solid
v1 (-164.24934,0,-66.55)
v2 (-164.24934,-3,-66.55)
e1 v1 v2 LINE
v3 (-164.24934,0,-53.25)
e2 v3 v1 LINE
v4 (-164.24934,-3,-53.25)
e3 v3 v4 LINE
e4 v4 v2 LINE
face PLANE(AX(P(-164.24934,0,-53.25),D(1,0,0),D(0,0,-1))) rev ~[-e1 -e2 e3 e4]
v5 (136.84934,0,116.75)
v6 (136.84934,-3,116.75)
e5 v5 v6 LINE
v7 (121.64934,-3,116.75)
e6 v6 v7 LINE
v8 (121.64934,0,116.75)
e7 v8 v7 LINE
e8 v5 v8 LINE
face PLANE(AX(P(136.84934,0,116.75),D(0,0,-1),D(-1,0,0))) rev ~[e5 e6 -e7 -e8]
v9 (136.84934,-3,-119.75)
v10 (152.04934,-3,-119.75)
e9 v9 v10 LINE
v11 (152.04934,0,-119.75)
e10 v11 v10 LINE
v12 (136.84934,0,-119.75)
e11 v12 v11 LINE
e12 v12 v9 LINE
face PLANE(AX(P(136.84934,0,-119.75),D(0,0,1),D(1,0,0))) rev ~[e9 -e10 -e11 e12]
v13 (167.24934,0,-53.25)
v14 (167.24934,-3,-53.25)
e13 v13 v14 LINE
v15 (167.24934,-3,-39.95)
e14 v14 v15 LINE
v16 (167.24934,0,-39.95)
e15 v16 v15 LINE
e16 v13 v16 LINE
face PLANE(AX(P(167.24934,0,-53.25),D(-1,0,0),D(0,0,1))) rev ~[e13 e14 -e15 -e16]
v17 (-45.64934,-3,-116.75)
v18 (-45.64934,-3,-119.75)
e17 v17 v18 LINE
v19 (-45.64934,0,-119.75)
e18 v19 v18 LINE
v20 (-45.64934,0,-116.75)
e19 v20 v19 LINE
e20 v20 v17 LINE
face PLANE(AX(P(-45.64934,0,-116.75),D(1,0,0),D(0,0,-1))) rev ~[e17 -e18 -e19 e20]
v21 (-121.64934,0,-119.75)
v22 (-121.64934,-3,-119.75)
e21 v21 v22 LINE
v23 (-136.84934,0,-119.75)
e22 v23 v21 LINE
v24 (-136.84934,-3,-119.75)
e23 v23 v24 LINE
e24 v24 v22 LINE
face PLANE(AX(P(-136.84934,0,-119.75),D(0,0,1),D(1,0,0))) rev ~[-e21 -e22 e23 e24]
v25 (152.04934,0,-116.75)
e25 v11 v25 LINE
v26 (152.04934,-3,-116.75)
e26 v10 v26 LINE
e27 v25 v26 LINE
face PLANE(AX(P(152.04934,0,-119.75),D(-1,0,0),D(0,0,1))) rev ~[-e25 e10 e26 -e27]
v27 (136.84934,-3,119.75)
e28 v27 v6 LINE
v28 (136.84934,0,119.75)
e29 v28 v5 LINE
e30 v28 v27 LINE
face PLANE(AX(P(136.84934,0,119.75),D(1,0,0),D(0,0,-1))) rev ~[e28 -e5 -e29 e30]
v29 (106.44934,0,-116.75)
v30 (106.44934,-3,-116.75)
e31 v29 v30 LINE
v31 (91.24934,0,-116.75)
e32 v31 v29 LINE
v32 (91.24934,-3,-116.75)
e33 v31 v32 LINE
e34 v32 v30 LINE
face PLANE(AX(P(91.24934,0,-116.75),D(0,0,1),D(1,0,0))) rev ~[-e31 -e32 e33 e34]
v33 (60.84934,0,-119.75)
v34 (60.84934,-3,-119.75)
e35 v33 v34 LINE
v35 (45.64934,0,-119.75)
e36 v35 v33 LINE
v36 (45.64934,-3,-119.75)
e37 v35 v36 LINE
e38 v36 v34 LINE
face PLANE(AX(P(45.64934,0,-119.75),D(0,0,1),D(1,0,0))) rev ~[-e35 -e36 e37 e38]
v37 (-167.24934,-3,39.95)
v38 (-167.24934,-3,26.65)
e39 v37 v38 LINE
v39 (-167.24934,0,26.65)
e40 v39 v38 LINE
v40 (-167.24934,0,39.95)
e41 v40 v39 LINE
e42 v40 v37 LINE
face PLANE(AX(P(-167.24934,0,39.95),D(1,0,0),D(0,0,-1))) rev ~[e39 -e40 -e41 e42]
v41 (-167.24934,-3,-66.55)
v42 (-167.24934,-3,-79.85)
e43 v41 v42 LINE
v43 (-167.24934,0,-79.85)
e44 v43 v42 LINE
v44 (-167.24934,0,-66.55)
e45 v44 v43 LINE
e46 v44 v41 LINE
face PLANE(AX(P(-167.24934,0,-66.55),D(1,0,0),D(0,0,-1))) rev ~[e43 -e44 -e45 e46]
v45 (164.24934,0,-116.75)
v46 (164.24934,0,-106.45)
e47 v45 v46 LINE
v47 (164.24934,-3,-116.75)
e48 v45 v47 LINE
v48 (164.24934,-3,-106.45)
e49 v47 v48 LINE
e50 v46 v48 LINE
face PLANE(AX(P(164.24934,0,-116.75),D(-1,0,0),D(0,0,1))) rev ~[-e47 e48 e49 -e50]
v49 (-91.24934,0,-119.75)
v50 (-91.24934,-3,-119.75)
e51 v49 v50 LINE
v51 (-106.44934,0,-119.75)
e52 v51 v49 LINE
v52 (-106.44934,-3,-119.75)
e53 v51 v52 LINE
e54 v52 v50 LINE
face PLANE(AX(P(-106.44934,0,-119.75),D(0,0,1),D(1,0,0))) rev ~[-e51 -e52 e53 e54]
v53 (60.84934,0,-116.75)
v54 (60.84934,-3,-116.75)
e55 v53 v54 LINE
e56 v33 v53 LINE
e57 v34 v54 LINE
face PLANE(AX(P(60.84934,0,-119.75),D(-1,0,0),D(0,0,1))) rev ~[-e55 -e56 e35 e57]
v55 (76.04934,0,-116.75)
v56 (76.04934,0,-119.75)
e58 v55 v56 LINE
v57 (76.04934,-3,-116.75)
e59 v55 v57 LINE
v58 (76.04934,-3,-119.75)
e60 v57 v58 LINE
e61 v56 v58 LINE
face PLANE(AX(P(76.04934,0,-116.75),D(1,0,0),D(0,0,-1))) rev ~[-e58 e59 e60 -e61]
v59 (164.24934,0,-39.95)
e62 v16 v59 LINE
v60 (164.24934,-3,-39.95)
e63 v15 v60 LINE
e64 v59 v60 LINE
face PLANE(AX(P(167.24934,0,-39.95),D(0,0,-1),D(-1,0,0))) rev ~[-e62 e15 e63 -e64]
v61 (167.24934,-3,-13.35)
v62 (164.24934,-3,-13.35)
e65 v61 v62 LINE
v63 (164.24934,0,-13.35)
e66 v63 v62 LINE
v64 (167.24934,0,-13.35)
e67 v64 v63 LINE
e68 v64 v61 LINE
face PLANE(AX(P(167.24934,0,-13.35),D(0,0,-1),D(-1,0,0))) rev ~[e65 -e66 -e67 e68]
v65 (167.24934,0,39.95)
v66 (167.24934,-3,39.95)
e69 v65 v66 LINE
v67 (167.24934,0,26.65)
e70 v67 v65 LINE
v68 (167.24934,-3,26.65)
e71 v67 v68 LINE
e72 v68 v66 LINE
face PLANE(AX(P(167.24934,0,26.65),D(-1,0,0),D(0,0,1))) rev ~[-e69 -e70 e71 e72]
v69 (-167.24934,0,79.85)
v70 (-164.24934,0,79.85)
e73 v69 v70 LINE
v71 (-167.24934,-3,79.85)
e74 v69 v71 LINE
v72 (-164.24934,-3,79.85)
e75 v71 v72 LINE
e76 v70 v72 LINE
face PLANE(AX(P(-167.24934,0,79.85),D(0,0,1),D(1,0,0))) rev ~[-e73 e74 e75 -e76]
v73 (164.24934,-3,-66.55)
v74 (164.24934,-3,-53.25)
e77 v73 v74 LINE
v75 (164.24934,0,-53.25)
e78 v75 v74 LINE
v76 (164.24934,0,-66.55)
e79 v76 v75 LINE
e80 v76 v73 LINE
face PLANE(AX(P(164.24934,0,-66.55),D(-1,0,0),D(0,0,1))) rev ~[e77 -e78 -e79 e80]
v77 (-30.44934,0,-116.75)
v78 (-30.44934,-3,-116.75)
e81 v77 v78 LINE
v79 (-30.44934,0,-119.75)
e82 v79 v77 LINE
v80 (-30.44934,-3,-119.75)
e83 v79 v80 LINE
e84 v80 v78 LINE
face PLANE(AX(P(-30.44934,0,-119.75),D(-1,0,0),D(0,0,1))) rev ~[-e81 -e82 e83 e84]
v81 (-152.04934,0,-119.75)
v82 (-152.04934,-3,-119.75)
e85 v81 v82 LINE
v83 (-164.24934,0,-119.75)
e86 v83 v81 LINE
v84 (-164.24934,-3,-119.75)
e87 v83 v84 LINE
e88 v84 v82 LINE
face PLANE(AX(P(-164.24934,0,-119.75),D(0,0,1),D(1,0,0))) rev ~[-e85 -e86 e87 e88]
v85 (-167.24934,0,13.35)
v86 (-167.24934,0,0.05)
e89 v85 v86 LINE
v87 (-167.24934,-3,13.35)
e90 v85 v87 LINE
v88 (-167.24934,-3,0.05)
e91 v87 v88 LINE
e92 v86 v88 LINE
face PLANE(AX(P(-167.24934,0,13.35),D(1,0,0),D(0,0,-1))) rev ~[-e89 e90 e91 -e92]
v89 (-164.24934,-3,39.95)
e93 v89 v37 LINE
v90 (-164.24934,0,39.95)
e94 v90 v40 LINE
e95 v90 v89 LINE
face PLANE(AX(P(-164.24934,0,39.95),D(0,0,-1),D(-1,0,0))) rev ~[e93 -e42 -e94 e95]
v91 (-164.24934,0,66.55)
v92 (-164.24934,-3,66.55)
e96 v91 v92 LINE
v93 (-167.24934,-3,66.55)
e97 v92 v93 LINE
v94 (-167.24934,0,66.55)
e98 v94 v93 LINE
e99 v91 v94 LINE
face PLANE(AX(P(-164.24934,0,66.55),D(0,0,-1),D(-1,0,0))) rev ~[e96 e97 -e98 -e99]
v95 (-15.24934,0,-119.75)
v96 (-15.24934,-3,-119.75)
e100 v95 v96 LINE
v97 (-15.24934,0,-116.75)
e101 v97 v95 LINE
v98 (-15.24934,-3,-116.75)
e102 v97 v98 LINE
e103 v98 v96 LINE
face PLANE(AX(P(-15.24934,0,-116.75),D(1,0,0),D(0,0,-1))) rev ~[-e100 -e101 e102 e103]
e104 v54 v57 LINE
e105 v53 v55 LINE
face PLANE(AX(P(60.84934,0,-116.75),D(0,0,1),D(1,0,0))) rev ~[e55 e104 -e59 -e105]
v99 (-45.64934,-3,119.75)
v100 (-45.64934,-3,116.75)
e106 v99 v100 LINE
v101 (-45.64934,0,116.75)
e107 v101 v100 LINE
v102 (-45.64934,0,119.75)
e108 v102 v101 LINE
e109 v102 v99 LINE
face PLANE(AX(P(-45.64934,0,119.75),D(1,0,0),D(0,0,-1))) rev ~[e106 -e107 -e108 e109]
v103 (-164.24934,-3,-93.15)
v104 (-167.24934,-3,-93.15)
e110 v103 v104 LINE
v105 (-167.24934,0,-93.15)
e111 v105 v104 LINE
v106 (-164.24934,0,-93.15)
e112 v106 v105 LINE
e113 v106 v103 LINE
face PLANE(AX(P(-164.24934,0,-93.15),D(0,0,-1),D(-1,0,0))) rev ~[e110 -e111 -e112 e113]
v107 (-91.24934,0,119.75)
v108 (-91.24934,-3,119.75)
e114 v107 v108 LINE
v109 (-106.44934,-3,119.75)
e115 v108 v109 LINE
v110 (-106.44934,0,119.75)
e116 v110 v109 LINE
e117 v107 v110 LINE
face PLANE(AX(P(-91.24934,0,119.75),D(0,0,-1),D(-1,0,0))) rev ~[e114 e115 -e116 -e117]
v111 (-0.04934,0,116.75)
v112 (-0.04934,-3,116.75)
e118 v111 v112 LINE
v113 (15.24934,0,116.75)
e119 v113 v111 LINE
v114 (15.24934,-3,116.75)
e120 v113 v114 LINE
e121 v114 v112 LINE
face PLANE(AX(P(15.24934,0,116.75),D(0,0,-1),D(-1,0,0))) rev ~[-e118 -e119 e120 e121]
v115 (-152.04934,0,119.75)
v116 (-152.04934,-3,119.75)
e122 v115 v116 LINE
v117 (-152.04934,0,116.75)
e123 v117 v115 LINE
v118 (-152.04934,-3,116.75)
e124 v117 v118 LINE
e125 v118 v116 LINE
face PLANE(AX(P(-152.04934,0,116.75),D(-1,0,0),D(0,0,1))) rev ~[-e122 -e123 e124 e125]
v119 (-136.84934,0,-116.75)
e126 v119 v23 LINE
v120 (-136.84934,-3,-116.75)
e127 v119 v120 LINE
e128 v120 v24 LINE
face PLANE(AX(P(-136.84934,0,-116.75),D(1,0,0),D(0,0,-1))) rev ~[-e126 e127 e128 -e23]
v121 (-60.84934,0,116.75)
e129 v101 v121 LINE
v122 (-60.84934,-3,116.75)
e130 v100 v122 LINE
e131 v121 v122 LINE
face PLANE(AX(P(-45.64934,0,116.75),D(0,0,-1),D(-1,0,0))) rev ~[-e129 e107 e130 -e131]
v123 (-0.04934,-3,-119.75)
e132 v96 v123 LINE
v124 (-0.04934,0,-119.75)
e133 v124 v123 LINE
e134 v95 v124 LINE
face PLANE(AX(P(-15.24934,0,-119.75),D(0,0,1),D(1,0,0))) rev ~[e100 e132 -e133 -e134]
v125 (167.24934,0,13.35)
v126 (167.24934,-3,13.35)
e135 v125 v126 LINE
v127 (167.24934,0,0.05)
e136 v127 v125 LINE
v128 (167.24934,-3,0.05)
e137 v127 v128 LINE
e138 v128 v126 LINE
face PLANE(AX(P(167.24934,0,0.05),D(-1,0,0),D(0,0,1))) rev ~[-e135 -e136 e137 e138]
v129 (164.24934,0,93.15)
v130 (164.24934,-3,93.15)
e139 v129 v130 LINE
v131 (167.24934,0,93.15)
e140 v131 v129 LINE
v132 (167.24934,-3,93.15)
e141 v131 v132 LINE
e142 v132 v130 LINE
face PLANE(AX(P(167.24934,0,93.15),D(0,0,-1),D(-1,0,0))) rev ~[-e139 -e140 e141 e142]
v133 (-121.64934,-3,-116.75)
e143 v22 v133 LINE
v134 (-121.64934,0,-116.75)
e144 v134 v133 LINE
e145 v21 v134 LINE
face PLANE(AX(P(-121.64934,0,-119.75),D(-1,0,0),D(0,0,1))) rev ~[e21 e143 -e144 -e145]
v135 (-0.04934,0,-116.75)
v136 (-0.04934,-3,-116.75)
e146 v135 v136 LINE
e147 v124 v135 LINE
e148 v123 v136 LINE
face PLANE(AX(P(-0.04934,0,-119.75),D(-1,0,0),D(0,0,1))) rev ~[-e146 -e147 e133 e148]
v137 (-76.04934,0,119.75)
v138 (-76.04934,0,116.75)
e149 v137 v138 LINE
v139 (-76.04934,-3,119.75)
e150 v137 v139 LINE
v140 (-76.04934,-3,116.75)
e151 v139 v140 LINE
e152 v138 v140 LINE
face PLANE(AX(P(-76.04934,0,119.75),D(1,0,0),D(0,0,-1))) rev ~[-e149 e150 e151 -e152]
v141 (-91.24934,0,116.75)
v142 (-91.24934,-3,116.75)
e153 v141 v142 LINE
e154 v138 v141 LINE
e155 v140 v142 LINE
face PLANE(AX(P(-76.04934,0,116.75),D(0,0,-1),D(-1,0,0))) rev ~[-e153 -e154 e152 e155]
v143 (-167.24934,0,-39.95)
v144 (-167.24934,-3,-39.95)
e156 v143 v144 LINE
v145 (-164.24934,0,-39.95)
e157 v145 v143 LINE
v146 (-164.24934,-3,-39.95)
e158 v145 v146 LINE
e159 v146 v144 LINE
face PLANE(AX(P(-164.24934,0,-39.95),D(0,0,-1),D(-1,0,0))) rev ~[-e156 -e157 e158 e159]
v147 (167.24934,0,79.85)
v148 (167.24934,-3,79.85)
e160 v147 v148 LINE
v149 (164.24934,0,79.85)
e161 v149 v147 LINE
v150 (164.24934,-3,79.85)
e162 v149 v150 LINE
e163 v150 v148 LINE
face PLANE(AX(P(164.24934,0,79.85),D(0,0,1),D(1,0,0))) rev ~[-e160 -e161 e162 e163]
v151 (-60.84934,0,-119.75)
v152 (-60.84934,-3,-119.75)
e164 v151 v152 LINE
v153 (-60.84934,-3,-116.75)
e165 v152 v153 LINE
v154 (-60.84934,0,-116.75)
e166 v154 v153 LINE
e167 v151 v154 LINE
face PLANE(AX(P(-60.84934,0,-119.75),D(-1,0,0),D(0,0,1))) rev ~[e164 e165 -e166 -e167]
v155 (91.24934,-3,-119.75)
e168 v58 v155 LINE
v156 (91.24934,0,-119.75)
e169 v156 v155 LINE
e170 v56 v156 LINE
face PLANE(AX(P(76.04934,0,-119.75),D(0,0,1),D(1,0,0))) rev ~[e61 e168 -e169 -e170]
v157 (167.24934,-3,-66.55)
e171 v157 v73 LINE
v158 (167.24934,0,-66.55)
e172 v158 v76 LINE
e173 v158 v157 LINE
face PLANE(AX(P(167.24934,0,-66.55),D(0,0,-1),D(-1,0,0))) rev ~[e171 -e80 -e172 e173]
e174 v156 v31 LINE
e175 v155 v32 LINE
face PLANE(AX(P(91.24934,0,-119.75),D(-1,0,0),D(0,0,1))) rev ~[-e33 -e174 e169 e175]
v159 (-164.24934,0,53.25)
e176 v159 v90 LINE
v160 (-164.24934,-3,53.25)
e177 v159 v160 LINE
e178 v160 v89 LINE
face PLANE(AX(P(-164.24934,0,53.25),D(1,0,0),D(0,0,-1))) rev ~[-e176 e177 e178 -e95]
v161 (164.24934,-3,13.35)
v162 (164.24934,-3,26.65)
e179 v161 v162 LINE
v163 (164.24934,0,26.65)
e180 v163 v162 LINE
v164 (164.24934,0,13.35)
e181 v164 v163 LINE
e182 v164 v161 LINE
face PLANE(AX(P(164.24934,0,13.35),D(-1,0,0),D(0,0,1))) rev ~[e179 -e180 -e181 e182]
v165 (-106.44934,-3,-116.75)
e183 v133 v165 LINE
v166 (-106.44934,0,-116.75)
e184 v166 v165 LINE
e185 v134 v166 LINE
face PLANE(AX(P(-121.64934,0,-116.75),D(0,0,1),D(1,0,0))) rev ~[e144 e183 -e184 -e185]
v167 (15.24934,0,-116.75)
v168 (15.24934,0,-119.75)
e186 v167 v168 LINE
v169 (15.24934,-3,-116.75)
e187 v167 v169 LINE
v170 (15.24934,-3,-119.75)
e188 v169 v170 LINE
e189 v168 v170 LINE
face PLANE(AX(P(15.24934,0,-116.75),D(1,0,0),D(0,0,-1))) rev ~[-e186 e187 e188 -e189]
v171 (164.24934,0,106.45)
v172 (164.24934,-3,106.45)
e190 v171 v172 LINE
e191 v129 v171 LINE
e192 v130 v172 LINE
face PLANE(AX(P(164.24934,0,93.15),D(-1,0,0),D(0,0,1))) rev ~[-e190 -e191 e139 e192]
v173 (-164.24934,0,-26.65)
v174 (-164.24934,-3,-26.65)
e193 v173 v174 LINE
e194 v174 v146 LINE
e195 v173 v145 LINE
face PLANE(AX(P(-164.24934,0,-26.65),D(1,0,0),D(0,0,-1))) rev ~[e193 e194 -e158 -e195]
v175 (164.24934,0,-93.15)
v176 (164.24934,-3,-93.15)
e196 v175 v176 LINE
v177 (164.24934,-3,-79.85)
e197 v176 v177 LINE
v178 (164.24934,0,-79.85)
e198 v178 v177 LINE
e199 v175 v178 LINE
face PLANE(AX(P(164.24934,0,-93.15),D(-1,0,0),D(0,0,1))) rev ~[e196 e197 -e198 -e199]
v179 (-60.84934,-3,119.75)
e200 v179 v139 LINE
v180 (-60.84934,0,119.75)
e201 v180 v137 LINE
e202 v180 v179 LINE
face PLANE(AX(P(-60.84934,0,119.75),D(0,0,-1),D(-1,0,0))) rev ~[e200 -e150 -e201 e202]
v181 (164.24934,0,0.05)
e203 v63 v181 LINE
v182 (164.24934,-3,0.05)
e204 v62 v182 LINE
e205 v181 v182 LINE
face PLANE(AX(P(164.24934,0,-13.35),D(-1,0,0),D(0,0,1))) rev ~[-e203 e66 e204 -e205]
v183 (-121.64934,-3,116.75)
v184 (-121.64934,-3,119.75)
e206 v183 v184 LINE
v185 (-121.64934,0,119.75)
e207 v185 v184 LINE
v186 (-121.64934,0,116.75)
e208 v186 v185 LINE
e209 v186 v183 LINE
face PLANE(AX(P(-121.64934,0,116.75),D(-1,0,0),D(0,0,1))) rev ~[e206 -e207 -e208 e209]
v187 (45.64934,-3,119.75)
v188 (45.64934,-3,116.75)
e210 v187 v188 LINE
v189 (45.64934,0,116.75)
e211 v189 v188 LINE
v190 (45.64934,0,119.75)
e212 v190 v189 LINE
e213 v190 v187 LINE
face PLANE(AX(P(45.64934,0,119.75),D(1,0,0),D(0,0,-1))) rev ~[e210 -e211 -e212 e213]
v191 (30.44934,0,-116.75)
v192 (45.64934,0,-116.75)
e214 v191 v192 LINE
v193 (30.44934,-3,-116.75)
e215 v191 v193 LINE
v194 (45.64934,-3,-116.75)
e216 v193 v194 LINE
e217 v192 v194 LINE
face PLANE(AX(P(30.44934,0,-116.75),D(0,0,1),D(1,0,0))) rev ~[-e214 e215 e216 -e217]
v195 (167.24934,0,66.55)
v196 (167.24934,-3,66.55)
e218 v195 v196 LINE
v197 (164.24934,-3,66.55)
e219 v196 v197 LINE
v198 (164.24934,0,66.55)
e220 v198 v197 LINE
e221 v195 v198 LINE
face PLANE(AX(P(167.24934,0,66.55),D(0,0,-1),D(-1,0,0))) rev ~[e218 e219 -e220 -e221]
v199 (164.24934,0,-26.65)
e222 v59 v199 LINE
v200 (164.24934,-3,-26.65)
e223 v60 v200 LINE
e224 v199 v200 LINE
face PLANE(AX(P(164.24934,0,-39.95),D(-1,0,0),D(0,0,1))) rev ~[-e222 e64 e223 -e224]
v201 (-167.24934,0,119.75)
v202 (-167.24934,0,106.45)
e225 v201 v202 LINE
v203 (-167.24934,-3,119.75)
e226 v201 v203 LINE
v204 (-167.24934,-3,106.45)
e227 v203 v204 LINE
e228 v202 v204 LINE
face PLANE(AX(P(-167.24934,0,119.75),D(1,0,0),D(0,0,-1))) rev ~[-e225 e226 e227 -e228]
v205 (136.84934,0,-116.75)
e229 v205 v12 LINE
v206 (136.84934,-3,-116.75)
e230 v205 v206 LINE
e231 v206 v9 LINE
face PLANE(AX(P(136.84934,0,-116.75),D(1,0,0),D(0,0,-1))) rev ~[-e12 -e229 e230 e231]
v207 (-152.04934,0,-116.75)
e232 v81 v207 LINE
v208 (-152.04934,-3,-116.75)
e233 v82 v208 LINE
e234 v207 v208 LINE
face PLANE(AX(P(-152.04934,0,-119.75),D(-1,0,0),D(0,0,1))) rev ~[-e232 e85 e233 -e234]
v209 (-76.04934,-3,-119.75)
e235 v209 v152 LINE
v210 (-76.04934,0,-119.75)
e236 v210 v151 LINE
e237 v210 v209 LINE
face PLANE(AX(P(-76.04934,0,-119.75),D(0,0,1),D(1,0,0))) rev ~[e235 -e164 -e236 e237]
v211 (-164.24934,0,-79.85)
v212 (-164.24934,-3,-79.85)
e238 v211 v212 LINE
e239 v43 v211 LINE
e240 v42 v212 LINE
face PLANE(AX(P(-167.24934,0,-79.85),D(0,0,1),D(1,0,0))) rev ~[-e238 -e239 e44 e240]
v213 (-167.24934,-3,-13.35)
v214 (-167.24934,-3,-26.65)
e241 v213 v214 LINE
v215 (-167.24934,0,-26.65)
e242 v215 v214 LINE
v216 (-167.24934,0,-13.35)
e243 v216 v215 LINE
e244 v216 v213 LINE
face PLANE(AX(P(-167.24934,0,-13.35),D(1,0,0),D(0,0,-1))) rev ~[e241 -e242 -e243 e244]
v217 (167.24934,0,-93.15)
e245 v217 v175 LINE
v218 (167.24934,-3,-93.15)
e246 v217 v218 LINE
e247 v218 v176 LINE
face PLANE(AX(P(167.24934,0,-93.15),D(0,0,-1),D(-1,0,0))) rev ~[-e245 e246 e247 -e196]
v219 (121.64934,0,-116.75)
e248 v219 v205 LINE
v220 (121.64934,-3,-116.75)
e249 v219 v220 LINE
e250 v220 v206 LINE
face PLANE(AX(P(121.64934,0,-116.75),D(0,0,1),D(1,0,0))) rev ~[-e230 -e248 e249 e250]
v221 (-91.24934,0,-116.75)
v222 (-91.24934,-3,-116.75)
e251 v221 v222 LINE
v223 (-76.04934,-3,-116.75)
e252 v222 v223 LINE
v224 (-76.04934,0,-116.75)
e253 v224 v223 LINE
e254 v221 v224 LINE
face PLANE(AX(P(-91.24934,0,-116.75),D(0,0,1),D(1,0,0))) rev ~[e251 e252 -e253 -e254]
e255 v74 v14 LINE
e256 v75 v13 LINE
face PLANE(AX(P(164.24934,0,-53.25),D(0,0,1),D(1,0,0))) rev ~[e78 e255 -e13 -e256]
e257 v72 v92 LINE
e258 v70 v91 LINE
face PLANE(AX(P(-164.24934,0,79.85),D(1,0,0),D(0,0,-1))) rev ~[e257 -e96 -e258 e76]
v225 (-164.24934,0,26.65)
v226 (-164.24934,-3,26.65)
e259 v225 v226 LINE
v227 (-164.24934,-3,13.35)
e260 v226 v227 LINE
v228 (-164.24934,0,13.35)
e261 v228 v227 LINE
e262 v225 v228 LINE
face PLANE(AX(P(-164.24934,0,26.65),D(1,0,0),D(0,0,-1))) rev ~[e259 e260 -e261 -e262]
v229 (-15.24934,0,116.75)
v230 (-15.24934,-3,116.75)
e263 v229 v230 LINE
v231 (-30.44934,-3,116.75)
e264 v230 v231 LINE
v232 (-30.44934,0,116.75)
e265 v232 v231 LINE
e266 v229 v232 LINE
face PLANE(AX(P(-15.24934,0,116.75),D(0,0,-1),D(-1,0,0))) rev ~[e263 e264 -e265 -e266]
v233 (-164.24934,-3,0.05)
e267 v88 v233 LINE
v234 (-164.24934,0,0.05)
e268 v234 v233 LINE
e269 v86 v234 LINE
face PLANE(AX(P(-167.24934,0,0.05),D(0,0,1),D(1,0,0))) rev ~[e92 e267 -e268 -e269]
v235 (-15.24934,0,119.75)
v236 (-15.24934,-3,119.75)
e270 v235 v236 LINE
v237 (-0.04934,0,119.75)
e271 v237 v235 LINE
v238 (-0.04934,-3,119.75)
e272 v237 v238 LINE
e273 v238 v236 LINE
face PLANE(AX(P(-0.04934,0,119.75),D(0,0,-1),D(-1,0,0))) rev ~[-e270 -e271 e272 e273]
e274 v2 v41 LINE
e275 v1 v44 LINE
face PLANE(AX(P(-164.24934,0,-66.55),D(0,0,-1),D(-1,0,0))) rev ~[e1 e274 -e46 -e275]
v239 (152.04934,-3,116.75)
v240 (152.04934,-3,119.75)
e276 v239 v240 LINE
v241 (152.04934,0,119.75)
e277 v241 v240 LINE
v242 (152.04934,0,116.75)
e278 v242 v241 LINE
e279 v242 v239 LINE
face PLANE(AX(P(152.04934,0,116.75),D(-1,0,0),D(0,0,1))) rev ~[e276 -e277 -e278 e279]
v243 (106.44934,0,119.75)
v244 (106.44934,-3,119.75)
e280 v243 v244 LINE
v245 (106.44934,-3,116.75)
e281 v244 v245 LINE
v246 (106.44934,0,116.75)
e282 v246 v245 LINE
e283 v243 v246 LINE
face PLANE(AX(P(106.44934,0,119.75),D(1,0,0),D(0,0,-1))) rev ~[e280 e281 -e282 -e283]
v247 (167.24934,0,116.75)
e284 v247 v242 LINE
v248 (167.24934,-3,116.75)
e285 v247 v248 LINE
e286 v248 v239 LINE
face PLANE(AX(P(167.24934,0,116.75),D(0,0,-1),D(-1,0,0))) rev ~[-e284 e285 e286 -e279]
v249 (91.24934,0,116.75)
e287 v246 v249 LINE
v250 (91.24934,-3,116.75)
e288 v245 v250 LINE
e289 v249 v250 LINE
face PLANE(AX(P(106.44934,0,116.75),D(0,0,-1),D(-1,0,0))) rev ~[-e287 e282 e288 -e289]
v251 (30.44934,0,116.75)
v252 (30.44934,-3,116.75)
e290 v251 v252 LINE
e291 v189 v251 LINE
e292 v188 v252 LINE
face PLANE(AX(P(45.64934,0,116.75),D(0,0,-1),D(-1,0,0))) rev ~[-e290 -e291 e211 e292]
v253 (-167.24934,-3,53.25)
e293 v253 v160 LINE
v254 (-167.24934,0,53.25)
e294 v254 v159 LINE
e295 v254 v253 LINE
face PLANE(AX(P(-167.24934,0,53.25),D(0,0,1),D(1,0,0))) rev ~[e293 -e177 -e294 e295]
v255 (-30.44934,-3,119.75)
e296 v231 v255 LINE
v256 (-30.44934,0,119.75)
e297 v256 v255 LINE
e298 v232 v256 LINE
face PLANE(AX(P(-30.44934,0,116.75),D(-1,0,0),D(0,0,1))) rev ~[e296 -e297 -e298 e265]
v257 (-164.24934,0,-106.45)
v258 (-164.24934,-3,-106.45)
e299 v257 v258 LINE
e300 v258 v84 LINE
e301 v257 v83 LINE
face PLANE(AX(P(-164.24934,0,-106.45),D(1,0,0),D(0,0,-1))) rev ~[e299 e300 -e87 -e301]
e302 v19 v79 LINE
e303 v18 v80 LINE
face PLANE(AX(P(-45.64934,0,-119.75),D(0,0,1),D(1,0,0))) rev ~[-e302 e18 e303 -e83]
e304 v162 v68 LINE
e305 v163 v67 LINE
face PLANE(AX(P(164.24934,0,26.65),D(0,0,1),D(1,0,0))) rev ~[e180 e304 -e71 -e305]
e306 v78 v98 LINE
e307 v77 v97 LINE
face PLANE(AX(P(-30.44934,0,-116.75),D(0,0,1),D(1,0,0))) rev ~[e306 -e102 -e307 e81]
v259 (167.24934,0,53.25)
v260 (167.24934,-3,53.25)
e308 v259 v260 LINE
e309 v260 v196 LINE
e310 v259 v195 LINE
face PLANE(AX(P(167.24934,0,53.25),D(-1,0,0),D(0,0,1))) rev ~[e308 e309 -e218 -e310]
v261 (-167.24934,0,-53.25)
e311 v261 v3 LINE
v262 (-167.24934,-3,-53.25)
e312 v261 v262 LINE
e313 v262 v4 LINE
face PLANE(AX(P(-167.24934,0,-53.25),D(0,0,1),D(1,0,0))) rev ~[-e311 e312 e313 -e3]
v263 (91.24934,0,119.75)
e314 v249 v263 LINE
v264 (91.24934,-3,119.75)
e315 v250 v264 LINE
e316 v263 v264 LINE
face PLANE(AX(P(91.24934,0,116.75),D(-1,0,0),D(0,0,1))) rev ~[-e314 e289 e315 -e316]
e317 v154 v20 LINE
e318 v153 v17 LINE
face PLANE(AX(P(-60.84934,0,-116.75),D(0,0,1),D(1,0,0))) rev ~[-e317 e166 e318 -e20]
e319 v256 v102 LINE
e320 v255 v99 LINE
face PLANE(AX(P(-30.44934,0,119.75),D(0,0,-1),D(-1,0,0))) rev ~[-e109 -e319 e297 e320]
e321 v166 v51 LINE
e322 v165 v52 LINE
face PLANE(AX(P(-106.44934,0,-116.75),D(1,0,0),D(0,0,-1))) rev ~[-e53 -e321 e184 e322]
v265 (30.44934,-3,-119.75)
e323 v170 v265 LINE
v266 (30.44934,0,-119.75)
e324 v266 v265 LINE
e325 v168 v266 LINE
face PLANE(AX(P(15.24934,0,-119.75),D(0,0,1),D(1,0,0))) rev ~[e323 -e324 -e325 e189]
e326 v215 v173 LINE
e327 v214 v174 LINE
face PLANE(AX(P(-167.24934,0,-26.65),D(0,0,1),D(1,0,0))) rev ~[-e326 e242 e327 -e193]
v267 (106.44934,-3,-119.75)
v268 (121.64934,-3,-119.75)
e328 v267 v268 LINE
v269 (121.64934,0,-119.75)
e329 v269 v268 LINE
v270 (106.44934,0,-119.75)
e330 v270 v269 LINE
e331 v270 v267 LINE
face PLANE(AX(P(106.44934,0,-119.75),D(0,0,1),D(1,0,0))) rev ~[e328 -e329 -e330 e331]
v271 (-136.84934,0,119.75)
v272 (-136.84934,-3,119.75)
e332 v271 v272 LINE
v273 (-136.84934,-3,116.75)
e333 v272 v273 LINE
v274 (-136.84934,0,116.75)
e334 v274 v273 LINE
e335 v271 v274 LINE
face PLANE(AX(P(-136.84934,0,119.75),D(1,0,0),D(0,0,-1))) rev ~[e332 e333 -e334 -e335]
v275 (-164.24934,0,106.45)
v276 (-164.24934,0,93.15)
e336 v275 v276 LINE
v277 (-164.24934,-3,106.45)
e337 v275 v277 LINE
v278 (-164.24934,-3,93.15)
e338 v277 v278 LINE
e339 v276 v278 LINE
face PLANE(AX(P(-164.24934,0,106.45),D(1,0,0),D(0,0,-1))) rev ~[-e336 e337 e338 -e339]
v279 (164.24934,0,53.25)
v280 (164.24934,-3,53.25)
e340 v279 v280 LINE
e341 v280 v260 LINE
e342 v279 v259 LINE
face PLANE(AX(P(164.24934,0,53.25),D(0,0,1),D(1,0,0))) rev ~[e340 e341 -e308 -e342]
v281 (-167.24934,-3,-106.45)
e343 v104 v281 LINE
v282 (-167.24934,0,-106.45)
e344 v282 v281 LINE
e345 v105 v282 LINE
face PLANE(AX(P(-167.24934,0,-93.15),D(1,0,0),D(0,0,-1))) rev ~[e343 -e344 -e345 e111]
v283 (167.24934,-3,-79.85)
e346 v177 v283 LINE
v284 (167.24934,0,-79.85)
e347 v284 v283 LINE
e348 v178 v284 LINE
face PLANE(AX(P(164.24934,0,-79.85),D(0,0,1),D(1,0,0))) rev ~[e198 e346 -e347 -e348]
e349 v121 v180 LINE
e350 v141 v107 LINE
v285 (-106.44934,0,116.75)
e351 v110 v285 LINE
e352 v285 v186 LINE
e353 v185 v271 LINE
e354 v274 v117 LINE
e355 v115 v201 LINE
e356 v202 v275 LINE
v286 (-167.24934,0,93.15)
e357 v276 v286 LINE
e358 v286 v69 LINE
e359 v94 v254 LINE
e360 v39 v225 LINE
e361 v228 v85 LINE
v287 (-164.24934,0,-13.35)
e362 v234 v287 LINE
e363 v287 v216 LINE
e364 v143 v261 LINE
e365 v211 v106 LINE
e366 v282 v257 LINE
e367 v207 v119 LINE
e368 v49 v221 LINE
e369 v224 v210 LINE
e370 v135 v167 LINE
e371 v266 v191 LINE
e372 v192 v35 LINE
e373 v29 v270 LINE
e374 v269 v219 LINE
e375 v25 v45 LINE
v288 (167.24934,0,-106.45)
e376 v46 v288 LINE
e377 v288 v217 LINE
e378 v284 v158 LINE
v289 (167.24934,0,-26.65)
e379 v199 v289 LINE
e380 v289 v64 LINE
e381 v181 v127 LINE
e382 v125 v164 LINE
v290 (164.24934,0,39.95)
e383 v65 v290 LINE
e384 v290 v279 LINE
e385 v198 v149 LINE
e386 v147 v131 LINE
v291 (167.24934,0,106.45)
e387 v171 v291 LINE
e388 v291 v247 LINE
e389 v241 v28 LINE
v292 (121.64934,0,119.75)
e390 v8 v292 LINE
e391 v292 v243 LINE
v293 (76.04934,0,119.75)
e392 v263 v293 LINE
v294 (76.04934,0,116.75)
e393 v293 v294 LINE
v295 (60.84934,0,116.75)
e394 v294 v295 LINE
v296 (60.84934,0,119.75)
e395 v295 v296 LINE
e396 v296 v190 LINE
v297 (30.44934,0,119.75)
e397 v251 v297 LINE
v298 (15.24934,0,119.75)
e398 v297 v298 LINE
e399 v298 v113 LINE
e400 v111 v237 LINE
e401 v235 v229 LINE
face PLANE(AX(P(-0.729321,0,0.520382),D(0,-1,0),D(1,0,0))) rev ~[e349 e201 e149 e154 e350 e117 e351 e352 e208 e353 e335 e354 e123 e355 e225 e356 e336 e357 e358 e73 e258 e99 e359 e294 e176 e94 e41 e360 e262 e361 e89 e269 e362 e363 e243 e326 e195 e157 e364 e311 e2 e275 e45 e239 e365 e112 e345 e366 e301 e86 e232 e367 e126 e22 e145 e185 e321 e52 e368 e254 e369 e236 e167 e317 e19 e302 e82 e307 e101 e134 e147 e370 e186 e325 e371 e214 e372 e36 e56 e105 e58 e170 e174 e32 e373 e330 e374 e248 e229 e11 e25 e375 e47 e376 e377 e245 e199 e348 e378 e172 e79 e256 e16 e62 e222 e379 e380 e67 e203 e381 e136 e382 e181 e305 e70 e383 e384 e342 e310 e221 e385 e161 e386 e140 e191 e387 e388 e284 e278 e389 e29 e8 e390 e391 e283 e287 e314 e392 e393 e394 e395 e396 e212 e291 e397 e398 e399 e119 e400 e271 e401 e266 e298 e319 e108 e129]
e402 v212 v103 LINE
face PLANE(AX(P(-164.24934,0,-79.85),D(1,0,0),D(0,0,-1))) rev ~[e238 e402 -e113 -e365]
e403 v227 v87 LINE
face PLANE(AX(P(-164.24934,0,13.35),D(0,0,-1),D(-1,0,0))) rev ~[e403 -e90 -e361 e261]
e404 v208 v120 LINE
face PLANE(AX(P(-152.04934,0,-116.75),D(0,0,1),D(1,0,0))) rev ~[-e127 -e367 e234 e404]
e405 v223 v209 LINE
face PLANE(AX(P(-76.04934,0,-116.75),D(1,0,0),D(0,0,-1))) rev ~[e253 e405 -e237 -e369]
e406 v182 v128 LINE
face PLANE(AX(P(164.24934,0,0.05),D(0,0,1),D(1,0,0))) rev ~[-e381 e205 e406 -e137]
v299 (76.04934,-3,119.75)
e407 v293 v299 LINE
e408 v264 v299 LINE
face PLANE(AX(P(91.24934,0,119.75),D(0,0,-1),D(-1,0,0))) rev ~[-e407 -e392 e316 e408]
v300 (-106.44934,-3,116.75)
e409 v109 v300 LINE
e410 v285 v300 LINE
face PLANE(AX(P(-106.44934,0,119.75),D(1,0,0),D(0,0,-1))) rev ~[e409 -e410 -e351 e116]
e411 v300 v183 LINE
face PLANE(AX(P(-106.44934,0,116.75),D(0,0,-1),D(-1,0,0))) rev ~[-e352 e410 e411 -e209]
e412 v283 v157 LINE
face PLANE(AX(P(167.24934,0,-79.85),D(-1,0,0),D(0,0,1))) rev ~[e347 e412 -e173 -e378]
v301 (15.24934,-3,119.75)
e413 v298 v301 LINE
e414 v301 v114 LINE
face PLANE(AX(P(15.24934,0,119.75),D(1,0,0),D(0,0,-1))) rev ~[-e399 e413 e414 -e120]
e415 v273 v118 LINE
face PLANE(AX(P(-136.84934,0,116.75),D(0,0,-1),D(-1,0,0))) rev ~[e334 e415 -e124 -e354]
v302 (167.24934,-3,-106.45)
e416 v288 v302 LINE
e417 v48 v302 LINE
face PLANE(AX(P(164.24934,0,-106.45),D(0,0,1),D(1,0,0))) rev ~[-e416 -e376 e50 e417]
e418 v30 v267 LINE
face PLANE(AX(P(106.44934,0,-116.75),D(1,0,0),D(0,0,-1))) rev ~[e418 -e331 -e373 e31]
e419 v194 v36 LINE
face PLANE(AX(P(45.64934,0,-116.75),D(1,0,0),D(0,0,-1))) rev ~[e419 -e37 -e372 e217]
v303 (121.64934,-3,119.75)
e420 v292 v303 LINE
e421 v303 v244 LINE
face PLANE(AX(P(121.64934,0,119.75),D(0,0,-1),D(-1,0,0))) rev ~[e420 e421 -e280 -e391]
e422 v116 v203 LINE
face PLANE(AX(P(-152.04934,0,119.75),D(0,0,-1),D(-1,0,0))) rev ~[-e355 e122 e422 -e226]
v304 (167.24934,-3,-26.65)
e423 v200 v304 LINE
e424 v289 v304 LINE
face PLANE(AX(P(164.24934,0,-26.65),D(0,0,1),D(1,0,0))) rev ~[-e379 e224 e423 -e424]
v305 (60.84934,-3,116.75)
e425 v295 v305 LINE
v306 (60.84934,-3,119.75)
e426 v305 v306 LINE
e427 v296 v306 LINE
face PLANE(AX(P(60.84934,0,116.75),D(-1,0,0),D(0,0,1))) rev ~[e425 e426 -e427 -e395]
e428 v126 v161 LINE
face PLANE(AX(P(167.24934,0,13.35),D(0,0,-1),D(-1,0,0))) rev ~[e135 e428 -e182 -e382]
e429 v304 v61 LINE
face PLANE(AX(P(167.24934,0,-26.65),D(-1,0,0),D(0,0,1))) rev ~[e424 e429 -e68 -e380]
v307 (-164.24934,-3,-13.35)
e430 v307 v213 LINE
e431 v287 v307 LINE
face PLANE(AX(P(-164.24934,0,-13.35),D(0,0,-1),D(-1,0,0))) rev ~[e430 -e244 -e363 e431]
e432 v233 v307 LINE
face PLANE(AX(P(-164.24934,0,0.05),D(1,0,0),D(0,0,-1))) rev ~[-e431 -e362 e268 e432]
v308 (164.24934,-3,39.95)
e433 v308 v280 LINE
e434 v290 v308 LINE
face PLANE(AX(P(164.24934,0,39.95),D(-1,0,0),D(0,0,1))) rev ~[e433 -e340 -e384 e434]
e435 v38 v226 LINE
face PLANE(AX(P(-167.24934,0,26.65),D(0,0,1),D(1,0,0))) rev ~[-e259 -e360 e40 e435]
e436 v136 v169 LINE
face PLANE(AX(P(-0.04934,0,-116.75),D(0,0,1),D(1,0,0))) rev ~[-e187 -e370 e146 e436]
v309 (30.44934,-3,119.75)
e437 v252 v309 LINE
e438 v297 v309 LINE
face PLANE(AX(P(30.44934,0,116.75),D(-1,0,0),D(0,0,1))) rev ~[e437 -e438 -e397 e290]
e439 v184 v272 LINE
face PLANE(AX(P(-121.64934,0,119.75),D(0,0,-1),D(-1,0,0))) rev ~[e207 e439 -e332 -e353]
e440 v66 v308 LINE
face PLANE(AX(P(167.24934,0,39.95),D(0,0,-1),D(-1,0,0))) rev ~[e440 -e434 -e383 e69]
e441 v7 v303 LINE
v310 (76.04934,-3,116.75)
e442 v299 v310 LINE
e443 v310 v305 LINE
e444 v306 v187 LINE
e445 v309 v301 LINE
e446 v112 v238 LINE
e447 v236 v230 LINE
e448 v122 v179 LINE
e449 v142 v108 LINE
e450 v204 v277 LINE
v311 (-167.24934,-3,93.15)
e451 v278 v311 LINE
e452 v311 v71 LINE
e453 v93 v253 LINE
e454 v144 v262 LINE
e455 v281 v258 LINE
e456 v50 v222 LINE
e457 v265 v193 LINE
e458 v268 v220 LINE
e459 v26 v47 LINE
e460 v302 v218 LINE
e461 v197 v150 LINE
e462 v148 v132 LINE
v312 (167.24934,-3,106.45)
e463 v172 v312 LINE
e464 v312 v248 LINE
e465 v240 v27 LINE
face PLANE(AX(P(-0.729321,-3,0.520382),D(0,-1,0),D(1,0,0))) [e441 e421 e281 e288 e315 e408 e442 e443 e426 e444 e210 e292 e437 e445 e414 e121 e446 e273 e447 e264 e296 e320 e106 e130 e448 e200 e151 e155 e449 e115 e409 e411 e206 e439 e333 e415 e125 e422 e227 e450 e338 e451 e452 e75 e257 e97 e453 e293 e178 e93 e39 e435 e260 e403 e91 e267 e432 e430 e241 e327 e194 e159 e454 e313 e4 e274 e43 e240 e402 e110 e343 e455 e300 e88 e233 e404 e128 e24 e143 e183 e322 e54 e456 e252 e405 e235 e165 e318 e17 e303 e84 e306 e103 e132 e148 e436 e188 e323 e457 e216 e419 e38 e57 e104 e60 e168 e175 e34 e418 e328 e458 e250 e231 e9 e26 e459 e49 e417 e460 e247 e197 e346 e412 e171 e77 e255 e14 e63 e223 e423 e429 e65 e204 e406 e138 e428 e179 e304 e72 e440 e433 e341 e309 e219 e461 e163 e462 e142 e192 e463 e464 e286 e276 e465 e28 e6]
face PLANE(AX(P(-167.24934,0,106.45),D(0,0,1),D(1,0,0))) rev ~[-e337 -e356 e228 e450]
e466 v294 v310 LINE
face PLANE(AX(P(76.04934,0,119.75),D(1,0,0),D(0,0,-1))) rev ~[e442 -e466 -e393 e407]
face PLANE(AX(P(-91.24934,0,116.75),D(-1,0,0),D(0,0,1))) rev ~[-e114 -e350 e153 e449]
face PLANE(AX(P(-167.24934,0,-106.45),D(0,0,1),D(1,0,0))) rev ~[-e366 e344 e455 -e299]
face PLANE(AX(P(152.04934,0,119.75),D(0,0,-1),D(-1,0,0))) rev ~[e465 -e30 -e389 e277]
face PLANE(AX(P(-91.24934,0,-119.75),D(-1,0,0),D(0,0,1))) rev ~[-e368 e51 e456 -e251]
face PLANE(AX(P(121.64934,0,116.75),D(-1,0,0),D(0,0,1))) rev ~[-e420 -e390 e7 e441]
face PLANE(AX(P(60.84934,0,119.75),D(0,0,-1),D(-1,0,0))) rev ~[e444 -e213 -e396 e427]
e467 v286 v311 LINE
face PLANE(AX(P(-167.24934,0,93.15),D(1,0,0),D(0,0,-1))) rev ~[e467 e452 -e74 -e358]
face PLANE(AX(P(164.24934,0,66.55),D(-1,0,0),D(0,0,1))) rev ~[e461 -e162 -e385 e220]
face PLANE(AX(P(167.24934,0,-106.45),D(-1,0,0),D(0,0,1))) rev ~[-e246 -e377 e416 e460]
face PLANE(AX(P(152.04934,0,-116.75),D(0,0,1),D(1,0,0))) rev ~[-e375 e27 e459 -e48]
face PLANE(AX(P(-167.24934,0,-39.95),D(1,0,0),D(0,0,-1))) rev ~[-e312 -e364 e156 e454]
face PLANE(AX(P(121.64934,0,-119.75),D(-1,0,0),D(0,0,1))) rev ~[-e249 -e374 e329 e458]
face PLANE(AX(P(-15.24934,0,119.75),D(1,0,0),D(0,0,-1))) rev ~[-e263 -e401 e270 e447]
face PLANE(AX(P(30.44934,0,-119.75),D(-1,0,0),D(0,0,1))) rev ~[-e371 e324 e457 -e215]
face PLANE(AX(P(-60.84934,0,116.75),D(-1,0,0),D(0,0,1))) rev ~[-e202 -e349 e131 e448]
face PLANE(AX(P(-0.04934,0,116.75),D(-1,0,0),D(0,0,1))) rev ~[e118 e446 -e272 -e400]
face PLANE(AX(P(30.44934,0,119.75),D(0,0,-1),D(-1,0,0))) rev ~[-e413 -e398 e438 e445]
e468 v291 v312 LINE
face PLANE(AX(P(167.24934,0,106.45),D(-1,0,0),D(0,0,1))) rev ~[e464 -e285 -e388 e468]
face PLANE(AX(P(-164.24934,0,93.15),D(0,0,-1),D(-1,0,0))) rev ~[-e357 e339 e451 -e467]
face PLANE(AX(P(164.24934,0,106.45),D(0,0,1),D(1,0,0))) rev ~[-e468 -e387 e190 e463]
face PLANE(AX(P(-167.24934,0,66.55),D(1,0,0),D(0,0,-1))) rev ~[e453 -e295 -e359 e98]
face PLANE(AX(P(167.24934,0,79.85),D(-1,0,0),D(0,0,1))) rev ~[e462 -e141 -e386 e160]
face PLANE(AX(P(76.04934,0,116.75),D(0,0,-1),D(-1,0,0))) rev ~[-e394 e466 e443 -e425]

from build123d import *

# Parameters (mm, degrees)
F1_DEPTH = 3


with BuildPart() as f1:
    # F0 (on Front) → F1 (new body)
    with BuildSketch(Plane.XZ):
        Polygon((152.04934, 116.75), (152.04934, 119.75), (136.84934, 119.75), (136.84934, 116.75), (121.64934, 116.75), (121.64934, 119.75), (106.44934, 119.75), (106.44934, 116.75), (91.24934, 116.75), (91.24934, 119.75), (76.04934, 119.75), (76.04934, 116.75), (60.84934, 116.75), (60.84934, 119.75), (45.64934, 119.75), (45.64934, 116.75), (30.44934, 116.75), (30.44934, 119.75), (15.24934, 119.75), (15.24934, 116.75), (0.04934, 116.75), (-0.04934, 116.75), (-0.04934, 119.75), (-15.24934, 119.75), (-15.24934, 116.75), (-30.44934, 116.75), (-30.44934, 119.75), (-45.64934, 119.75), (-45.64934, 116.75), (-60.84934, 116.75), (-60.84934, 119.75), (-76.04934, 119.75), (-76.04934, 116.75), (-91.24934, 116.75), (-91.24934, 119.75), (-106.44934, 119.75), (-106.44934, 116.75), (-121.64934, 116.75), (-121.64934, 119.75), (-136.84934, 119.75), (-136.84934, 116.75), (-152.04934, 116.75), (-152.04934, 119.75), (-167.24934, 119.75), (-167.24934, 106.45), (-164.24934, 106.45), (-164.24934, 93.15), (-167.24934, 93.15), (-167.24934, 79.85), (-164.24934, 79.85), (-164.24934, 66.55), (-167.24934, 66.55), (-167.24934, 53.25), (-164.24934, 53.25), (-164.24934, 39.95), (-167.24934, 39.95), (-167.24934, 26.65), (-164.24934, 26.65), (-164.24934, 13.35), (-167.24934, 13.35), (-167.24934, 0.05), (-164.24934, 0.05), (-164.24934, -0.05), (-164.24934, -13.35), (-167.24934, -13.35), (-167.24934, -26.65), (-164.24934, -26.65), (-164.24934, -39.95), (-167.24934, -39.95), (-167.24934, -53.25), (-164.24934, -53.25), (-164.24934, -66.55), (-167.24934, -66.55), (-167.24934, -79.85), (-164.24934, -79.85), (-164.24934, -93.15), (-167.24934, -93.15), (-167.24934, -106.45), (-164.24934, -106.45), (-164.24934, -119.75), (-152.04934, -119.75), (-152.04934, -116.75), (-136.84934, -116.75), (-136.84934, -119.75), (-121.64934, -119.75), (-121.64934, -116.75), (-106.44934, -116.75), (-106.44934, -119.75), (-91.24934, -119.75), (-91.24934, -116.75), (-76.04934, -116.75), (-76.04934, -119.75), (-60.84934, -119.75), (-60.84934, -116.75), (-45.64934, -116.75), (-45.64934, -119.75), (-30.44934, -119.75), (-30.44934, -116.75), (-15.24934, -116.75), (-15.24934, -119.75), (-0.04934, -119.75), (-0.04934, -116.75), (0.04934, -116.75), (15.24934, -116.75), (15.24934, -119.75), (30.44934, -119.75), (30.44934, -116.75), (45.64934, -116.75), (45.64934, -119.75), (60.84934, -119.75), (60.84934, -116.75), (76.04934, -116.75), (76.04934, -119.75), (91.24934, -119.75), (91.24934, -116.75), (106.44934, -116.75), (106.44934, -119.75), (121.64934, -119.75), (121.64934, -116.75), (136.84934, -116.75), (136.84934, -119.75), (152.04934, -119.75), (152.04934, -116.75), (164.24934, -116.75), (164.24934, -106.45), (167.24934, -106.45), (167.24934, -93.15), (164.24934, -93.15), (164.24934, -79.85), (167.24934, -79.85), (167.24934, -66.55), (164.24934, -66.55), (164.24934, -53.25), (167.24934, -53.25), (167.24934, -39.95), (164.24934, -39.95), (164.24934, -26.65), (167.24934, -26.65), (167.24934, -13.35), (164.24934, -13.35), (164.24934, -0.05), (164.24934, 0.05), (167.24934, 0.05), (167.24934, 13.35), (164.24934, 13.35), (164.24934, 26.65), (167.24934, 26.65), (167.24934, 39.95), (164.24934, 39.95), (164.24934, 53.25), (167.24934, 53.25), (167.24934, 66.55), (164.24934, 66.55), (164.24934, 79.85), (167.24934, 79.85), (167.24934, 93.15), (164.24934, 93.15), (164.24934, 106.45), (167.24934, 106.45), (167.24934, 116.75), align=None)
    extrude(amount=F1_DEPTH)


solid = f1.part
